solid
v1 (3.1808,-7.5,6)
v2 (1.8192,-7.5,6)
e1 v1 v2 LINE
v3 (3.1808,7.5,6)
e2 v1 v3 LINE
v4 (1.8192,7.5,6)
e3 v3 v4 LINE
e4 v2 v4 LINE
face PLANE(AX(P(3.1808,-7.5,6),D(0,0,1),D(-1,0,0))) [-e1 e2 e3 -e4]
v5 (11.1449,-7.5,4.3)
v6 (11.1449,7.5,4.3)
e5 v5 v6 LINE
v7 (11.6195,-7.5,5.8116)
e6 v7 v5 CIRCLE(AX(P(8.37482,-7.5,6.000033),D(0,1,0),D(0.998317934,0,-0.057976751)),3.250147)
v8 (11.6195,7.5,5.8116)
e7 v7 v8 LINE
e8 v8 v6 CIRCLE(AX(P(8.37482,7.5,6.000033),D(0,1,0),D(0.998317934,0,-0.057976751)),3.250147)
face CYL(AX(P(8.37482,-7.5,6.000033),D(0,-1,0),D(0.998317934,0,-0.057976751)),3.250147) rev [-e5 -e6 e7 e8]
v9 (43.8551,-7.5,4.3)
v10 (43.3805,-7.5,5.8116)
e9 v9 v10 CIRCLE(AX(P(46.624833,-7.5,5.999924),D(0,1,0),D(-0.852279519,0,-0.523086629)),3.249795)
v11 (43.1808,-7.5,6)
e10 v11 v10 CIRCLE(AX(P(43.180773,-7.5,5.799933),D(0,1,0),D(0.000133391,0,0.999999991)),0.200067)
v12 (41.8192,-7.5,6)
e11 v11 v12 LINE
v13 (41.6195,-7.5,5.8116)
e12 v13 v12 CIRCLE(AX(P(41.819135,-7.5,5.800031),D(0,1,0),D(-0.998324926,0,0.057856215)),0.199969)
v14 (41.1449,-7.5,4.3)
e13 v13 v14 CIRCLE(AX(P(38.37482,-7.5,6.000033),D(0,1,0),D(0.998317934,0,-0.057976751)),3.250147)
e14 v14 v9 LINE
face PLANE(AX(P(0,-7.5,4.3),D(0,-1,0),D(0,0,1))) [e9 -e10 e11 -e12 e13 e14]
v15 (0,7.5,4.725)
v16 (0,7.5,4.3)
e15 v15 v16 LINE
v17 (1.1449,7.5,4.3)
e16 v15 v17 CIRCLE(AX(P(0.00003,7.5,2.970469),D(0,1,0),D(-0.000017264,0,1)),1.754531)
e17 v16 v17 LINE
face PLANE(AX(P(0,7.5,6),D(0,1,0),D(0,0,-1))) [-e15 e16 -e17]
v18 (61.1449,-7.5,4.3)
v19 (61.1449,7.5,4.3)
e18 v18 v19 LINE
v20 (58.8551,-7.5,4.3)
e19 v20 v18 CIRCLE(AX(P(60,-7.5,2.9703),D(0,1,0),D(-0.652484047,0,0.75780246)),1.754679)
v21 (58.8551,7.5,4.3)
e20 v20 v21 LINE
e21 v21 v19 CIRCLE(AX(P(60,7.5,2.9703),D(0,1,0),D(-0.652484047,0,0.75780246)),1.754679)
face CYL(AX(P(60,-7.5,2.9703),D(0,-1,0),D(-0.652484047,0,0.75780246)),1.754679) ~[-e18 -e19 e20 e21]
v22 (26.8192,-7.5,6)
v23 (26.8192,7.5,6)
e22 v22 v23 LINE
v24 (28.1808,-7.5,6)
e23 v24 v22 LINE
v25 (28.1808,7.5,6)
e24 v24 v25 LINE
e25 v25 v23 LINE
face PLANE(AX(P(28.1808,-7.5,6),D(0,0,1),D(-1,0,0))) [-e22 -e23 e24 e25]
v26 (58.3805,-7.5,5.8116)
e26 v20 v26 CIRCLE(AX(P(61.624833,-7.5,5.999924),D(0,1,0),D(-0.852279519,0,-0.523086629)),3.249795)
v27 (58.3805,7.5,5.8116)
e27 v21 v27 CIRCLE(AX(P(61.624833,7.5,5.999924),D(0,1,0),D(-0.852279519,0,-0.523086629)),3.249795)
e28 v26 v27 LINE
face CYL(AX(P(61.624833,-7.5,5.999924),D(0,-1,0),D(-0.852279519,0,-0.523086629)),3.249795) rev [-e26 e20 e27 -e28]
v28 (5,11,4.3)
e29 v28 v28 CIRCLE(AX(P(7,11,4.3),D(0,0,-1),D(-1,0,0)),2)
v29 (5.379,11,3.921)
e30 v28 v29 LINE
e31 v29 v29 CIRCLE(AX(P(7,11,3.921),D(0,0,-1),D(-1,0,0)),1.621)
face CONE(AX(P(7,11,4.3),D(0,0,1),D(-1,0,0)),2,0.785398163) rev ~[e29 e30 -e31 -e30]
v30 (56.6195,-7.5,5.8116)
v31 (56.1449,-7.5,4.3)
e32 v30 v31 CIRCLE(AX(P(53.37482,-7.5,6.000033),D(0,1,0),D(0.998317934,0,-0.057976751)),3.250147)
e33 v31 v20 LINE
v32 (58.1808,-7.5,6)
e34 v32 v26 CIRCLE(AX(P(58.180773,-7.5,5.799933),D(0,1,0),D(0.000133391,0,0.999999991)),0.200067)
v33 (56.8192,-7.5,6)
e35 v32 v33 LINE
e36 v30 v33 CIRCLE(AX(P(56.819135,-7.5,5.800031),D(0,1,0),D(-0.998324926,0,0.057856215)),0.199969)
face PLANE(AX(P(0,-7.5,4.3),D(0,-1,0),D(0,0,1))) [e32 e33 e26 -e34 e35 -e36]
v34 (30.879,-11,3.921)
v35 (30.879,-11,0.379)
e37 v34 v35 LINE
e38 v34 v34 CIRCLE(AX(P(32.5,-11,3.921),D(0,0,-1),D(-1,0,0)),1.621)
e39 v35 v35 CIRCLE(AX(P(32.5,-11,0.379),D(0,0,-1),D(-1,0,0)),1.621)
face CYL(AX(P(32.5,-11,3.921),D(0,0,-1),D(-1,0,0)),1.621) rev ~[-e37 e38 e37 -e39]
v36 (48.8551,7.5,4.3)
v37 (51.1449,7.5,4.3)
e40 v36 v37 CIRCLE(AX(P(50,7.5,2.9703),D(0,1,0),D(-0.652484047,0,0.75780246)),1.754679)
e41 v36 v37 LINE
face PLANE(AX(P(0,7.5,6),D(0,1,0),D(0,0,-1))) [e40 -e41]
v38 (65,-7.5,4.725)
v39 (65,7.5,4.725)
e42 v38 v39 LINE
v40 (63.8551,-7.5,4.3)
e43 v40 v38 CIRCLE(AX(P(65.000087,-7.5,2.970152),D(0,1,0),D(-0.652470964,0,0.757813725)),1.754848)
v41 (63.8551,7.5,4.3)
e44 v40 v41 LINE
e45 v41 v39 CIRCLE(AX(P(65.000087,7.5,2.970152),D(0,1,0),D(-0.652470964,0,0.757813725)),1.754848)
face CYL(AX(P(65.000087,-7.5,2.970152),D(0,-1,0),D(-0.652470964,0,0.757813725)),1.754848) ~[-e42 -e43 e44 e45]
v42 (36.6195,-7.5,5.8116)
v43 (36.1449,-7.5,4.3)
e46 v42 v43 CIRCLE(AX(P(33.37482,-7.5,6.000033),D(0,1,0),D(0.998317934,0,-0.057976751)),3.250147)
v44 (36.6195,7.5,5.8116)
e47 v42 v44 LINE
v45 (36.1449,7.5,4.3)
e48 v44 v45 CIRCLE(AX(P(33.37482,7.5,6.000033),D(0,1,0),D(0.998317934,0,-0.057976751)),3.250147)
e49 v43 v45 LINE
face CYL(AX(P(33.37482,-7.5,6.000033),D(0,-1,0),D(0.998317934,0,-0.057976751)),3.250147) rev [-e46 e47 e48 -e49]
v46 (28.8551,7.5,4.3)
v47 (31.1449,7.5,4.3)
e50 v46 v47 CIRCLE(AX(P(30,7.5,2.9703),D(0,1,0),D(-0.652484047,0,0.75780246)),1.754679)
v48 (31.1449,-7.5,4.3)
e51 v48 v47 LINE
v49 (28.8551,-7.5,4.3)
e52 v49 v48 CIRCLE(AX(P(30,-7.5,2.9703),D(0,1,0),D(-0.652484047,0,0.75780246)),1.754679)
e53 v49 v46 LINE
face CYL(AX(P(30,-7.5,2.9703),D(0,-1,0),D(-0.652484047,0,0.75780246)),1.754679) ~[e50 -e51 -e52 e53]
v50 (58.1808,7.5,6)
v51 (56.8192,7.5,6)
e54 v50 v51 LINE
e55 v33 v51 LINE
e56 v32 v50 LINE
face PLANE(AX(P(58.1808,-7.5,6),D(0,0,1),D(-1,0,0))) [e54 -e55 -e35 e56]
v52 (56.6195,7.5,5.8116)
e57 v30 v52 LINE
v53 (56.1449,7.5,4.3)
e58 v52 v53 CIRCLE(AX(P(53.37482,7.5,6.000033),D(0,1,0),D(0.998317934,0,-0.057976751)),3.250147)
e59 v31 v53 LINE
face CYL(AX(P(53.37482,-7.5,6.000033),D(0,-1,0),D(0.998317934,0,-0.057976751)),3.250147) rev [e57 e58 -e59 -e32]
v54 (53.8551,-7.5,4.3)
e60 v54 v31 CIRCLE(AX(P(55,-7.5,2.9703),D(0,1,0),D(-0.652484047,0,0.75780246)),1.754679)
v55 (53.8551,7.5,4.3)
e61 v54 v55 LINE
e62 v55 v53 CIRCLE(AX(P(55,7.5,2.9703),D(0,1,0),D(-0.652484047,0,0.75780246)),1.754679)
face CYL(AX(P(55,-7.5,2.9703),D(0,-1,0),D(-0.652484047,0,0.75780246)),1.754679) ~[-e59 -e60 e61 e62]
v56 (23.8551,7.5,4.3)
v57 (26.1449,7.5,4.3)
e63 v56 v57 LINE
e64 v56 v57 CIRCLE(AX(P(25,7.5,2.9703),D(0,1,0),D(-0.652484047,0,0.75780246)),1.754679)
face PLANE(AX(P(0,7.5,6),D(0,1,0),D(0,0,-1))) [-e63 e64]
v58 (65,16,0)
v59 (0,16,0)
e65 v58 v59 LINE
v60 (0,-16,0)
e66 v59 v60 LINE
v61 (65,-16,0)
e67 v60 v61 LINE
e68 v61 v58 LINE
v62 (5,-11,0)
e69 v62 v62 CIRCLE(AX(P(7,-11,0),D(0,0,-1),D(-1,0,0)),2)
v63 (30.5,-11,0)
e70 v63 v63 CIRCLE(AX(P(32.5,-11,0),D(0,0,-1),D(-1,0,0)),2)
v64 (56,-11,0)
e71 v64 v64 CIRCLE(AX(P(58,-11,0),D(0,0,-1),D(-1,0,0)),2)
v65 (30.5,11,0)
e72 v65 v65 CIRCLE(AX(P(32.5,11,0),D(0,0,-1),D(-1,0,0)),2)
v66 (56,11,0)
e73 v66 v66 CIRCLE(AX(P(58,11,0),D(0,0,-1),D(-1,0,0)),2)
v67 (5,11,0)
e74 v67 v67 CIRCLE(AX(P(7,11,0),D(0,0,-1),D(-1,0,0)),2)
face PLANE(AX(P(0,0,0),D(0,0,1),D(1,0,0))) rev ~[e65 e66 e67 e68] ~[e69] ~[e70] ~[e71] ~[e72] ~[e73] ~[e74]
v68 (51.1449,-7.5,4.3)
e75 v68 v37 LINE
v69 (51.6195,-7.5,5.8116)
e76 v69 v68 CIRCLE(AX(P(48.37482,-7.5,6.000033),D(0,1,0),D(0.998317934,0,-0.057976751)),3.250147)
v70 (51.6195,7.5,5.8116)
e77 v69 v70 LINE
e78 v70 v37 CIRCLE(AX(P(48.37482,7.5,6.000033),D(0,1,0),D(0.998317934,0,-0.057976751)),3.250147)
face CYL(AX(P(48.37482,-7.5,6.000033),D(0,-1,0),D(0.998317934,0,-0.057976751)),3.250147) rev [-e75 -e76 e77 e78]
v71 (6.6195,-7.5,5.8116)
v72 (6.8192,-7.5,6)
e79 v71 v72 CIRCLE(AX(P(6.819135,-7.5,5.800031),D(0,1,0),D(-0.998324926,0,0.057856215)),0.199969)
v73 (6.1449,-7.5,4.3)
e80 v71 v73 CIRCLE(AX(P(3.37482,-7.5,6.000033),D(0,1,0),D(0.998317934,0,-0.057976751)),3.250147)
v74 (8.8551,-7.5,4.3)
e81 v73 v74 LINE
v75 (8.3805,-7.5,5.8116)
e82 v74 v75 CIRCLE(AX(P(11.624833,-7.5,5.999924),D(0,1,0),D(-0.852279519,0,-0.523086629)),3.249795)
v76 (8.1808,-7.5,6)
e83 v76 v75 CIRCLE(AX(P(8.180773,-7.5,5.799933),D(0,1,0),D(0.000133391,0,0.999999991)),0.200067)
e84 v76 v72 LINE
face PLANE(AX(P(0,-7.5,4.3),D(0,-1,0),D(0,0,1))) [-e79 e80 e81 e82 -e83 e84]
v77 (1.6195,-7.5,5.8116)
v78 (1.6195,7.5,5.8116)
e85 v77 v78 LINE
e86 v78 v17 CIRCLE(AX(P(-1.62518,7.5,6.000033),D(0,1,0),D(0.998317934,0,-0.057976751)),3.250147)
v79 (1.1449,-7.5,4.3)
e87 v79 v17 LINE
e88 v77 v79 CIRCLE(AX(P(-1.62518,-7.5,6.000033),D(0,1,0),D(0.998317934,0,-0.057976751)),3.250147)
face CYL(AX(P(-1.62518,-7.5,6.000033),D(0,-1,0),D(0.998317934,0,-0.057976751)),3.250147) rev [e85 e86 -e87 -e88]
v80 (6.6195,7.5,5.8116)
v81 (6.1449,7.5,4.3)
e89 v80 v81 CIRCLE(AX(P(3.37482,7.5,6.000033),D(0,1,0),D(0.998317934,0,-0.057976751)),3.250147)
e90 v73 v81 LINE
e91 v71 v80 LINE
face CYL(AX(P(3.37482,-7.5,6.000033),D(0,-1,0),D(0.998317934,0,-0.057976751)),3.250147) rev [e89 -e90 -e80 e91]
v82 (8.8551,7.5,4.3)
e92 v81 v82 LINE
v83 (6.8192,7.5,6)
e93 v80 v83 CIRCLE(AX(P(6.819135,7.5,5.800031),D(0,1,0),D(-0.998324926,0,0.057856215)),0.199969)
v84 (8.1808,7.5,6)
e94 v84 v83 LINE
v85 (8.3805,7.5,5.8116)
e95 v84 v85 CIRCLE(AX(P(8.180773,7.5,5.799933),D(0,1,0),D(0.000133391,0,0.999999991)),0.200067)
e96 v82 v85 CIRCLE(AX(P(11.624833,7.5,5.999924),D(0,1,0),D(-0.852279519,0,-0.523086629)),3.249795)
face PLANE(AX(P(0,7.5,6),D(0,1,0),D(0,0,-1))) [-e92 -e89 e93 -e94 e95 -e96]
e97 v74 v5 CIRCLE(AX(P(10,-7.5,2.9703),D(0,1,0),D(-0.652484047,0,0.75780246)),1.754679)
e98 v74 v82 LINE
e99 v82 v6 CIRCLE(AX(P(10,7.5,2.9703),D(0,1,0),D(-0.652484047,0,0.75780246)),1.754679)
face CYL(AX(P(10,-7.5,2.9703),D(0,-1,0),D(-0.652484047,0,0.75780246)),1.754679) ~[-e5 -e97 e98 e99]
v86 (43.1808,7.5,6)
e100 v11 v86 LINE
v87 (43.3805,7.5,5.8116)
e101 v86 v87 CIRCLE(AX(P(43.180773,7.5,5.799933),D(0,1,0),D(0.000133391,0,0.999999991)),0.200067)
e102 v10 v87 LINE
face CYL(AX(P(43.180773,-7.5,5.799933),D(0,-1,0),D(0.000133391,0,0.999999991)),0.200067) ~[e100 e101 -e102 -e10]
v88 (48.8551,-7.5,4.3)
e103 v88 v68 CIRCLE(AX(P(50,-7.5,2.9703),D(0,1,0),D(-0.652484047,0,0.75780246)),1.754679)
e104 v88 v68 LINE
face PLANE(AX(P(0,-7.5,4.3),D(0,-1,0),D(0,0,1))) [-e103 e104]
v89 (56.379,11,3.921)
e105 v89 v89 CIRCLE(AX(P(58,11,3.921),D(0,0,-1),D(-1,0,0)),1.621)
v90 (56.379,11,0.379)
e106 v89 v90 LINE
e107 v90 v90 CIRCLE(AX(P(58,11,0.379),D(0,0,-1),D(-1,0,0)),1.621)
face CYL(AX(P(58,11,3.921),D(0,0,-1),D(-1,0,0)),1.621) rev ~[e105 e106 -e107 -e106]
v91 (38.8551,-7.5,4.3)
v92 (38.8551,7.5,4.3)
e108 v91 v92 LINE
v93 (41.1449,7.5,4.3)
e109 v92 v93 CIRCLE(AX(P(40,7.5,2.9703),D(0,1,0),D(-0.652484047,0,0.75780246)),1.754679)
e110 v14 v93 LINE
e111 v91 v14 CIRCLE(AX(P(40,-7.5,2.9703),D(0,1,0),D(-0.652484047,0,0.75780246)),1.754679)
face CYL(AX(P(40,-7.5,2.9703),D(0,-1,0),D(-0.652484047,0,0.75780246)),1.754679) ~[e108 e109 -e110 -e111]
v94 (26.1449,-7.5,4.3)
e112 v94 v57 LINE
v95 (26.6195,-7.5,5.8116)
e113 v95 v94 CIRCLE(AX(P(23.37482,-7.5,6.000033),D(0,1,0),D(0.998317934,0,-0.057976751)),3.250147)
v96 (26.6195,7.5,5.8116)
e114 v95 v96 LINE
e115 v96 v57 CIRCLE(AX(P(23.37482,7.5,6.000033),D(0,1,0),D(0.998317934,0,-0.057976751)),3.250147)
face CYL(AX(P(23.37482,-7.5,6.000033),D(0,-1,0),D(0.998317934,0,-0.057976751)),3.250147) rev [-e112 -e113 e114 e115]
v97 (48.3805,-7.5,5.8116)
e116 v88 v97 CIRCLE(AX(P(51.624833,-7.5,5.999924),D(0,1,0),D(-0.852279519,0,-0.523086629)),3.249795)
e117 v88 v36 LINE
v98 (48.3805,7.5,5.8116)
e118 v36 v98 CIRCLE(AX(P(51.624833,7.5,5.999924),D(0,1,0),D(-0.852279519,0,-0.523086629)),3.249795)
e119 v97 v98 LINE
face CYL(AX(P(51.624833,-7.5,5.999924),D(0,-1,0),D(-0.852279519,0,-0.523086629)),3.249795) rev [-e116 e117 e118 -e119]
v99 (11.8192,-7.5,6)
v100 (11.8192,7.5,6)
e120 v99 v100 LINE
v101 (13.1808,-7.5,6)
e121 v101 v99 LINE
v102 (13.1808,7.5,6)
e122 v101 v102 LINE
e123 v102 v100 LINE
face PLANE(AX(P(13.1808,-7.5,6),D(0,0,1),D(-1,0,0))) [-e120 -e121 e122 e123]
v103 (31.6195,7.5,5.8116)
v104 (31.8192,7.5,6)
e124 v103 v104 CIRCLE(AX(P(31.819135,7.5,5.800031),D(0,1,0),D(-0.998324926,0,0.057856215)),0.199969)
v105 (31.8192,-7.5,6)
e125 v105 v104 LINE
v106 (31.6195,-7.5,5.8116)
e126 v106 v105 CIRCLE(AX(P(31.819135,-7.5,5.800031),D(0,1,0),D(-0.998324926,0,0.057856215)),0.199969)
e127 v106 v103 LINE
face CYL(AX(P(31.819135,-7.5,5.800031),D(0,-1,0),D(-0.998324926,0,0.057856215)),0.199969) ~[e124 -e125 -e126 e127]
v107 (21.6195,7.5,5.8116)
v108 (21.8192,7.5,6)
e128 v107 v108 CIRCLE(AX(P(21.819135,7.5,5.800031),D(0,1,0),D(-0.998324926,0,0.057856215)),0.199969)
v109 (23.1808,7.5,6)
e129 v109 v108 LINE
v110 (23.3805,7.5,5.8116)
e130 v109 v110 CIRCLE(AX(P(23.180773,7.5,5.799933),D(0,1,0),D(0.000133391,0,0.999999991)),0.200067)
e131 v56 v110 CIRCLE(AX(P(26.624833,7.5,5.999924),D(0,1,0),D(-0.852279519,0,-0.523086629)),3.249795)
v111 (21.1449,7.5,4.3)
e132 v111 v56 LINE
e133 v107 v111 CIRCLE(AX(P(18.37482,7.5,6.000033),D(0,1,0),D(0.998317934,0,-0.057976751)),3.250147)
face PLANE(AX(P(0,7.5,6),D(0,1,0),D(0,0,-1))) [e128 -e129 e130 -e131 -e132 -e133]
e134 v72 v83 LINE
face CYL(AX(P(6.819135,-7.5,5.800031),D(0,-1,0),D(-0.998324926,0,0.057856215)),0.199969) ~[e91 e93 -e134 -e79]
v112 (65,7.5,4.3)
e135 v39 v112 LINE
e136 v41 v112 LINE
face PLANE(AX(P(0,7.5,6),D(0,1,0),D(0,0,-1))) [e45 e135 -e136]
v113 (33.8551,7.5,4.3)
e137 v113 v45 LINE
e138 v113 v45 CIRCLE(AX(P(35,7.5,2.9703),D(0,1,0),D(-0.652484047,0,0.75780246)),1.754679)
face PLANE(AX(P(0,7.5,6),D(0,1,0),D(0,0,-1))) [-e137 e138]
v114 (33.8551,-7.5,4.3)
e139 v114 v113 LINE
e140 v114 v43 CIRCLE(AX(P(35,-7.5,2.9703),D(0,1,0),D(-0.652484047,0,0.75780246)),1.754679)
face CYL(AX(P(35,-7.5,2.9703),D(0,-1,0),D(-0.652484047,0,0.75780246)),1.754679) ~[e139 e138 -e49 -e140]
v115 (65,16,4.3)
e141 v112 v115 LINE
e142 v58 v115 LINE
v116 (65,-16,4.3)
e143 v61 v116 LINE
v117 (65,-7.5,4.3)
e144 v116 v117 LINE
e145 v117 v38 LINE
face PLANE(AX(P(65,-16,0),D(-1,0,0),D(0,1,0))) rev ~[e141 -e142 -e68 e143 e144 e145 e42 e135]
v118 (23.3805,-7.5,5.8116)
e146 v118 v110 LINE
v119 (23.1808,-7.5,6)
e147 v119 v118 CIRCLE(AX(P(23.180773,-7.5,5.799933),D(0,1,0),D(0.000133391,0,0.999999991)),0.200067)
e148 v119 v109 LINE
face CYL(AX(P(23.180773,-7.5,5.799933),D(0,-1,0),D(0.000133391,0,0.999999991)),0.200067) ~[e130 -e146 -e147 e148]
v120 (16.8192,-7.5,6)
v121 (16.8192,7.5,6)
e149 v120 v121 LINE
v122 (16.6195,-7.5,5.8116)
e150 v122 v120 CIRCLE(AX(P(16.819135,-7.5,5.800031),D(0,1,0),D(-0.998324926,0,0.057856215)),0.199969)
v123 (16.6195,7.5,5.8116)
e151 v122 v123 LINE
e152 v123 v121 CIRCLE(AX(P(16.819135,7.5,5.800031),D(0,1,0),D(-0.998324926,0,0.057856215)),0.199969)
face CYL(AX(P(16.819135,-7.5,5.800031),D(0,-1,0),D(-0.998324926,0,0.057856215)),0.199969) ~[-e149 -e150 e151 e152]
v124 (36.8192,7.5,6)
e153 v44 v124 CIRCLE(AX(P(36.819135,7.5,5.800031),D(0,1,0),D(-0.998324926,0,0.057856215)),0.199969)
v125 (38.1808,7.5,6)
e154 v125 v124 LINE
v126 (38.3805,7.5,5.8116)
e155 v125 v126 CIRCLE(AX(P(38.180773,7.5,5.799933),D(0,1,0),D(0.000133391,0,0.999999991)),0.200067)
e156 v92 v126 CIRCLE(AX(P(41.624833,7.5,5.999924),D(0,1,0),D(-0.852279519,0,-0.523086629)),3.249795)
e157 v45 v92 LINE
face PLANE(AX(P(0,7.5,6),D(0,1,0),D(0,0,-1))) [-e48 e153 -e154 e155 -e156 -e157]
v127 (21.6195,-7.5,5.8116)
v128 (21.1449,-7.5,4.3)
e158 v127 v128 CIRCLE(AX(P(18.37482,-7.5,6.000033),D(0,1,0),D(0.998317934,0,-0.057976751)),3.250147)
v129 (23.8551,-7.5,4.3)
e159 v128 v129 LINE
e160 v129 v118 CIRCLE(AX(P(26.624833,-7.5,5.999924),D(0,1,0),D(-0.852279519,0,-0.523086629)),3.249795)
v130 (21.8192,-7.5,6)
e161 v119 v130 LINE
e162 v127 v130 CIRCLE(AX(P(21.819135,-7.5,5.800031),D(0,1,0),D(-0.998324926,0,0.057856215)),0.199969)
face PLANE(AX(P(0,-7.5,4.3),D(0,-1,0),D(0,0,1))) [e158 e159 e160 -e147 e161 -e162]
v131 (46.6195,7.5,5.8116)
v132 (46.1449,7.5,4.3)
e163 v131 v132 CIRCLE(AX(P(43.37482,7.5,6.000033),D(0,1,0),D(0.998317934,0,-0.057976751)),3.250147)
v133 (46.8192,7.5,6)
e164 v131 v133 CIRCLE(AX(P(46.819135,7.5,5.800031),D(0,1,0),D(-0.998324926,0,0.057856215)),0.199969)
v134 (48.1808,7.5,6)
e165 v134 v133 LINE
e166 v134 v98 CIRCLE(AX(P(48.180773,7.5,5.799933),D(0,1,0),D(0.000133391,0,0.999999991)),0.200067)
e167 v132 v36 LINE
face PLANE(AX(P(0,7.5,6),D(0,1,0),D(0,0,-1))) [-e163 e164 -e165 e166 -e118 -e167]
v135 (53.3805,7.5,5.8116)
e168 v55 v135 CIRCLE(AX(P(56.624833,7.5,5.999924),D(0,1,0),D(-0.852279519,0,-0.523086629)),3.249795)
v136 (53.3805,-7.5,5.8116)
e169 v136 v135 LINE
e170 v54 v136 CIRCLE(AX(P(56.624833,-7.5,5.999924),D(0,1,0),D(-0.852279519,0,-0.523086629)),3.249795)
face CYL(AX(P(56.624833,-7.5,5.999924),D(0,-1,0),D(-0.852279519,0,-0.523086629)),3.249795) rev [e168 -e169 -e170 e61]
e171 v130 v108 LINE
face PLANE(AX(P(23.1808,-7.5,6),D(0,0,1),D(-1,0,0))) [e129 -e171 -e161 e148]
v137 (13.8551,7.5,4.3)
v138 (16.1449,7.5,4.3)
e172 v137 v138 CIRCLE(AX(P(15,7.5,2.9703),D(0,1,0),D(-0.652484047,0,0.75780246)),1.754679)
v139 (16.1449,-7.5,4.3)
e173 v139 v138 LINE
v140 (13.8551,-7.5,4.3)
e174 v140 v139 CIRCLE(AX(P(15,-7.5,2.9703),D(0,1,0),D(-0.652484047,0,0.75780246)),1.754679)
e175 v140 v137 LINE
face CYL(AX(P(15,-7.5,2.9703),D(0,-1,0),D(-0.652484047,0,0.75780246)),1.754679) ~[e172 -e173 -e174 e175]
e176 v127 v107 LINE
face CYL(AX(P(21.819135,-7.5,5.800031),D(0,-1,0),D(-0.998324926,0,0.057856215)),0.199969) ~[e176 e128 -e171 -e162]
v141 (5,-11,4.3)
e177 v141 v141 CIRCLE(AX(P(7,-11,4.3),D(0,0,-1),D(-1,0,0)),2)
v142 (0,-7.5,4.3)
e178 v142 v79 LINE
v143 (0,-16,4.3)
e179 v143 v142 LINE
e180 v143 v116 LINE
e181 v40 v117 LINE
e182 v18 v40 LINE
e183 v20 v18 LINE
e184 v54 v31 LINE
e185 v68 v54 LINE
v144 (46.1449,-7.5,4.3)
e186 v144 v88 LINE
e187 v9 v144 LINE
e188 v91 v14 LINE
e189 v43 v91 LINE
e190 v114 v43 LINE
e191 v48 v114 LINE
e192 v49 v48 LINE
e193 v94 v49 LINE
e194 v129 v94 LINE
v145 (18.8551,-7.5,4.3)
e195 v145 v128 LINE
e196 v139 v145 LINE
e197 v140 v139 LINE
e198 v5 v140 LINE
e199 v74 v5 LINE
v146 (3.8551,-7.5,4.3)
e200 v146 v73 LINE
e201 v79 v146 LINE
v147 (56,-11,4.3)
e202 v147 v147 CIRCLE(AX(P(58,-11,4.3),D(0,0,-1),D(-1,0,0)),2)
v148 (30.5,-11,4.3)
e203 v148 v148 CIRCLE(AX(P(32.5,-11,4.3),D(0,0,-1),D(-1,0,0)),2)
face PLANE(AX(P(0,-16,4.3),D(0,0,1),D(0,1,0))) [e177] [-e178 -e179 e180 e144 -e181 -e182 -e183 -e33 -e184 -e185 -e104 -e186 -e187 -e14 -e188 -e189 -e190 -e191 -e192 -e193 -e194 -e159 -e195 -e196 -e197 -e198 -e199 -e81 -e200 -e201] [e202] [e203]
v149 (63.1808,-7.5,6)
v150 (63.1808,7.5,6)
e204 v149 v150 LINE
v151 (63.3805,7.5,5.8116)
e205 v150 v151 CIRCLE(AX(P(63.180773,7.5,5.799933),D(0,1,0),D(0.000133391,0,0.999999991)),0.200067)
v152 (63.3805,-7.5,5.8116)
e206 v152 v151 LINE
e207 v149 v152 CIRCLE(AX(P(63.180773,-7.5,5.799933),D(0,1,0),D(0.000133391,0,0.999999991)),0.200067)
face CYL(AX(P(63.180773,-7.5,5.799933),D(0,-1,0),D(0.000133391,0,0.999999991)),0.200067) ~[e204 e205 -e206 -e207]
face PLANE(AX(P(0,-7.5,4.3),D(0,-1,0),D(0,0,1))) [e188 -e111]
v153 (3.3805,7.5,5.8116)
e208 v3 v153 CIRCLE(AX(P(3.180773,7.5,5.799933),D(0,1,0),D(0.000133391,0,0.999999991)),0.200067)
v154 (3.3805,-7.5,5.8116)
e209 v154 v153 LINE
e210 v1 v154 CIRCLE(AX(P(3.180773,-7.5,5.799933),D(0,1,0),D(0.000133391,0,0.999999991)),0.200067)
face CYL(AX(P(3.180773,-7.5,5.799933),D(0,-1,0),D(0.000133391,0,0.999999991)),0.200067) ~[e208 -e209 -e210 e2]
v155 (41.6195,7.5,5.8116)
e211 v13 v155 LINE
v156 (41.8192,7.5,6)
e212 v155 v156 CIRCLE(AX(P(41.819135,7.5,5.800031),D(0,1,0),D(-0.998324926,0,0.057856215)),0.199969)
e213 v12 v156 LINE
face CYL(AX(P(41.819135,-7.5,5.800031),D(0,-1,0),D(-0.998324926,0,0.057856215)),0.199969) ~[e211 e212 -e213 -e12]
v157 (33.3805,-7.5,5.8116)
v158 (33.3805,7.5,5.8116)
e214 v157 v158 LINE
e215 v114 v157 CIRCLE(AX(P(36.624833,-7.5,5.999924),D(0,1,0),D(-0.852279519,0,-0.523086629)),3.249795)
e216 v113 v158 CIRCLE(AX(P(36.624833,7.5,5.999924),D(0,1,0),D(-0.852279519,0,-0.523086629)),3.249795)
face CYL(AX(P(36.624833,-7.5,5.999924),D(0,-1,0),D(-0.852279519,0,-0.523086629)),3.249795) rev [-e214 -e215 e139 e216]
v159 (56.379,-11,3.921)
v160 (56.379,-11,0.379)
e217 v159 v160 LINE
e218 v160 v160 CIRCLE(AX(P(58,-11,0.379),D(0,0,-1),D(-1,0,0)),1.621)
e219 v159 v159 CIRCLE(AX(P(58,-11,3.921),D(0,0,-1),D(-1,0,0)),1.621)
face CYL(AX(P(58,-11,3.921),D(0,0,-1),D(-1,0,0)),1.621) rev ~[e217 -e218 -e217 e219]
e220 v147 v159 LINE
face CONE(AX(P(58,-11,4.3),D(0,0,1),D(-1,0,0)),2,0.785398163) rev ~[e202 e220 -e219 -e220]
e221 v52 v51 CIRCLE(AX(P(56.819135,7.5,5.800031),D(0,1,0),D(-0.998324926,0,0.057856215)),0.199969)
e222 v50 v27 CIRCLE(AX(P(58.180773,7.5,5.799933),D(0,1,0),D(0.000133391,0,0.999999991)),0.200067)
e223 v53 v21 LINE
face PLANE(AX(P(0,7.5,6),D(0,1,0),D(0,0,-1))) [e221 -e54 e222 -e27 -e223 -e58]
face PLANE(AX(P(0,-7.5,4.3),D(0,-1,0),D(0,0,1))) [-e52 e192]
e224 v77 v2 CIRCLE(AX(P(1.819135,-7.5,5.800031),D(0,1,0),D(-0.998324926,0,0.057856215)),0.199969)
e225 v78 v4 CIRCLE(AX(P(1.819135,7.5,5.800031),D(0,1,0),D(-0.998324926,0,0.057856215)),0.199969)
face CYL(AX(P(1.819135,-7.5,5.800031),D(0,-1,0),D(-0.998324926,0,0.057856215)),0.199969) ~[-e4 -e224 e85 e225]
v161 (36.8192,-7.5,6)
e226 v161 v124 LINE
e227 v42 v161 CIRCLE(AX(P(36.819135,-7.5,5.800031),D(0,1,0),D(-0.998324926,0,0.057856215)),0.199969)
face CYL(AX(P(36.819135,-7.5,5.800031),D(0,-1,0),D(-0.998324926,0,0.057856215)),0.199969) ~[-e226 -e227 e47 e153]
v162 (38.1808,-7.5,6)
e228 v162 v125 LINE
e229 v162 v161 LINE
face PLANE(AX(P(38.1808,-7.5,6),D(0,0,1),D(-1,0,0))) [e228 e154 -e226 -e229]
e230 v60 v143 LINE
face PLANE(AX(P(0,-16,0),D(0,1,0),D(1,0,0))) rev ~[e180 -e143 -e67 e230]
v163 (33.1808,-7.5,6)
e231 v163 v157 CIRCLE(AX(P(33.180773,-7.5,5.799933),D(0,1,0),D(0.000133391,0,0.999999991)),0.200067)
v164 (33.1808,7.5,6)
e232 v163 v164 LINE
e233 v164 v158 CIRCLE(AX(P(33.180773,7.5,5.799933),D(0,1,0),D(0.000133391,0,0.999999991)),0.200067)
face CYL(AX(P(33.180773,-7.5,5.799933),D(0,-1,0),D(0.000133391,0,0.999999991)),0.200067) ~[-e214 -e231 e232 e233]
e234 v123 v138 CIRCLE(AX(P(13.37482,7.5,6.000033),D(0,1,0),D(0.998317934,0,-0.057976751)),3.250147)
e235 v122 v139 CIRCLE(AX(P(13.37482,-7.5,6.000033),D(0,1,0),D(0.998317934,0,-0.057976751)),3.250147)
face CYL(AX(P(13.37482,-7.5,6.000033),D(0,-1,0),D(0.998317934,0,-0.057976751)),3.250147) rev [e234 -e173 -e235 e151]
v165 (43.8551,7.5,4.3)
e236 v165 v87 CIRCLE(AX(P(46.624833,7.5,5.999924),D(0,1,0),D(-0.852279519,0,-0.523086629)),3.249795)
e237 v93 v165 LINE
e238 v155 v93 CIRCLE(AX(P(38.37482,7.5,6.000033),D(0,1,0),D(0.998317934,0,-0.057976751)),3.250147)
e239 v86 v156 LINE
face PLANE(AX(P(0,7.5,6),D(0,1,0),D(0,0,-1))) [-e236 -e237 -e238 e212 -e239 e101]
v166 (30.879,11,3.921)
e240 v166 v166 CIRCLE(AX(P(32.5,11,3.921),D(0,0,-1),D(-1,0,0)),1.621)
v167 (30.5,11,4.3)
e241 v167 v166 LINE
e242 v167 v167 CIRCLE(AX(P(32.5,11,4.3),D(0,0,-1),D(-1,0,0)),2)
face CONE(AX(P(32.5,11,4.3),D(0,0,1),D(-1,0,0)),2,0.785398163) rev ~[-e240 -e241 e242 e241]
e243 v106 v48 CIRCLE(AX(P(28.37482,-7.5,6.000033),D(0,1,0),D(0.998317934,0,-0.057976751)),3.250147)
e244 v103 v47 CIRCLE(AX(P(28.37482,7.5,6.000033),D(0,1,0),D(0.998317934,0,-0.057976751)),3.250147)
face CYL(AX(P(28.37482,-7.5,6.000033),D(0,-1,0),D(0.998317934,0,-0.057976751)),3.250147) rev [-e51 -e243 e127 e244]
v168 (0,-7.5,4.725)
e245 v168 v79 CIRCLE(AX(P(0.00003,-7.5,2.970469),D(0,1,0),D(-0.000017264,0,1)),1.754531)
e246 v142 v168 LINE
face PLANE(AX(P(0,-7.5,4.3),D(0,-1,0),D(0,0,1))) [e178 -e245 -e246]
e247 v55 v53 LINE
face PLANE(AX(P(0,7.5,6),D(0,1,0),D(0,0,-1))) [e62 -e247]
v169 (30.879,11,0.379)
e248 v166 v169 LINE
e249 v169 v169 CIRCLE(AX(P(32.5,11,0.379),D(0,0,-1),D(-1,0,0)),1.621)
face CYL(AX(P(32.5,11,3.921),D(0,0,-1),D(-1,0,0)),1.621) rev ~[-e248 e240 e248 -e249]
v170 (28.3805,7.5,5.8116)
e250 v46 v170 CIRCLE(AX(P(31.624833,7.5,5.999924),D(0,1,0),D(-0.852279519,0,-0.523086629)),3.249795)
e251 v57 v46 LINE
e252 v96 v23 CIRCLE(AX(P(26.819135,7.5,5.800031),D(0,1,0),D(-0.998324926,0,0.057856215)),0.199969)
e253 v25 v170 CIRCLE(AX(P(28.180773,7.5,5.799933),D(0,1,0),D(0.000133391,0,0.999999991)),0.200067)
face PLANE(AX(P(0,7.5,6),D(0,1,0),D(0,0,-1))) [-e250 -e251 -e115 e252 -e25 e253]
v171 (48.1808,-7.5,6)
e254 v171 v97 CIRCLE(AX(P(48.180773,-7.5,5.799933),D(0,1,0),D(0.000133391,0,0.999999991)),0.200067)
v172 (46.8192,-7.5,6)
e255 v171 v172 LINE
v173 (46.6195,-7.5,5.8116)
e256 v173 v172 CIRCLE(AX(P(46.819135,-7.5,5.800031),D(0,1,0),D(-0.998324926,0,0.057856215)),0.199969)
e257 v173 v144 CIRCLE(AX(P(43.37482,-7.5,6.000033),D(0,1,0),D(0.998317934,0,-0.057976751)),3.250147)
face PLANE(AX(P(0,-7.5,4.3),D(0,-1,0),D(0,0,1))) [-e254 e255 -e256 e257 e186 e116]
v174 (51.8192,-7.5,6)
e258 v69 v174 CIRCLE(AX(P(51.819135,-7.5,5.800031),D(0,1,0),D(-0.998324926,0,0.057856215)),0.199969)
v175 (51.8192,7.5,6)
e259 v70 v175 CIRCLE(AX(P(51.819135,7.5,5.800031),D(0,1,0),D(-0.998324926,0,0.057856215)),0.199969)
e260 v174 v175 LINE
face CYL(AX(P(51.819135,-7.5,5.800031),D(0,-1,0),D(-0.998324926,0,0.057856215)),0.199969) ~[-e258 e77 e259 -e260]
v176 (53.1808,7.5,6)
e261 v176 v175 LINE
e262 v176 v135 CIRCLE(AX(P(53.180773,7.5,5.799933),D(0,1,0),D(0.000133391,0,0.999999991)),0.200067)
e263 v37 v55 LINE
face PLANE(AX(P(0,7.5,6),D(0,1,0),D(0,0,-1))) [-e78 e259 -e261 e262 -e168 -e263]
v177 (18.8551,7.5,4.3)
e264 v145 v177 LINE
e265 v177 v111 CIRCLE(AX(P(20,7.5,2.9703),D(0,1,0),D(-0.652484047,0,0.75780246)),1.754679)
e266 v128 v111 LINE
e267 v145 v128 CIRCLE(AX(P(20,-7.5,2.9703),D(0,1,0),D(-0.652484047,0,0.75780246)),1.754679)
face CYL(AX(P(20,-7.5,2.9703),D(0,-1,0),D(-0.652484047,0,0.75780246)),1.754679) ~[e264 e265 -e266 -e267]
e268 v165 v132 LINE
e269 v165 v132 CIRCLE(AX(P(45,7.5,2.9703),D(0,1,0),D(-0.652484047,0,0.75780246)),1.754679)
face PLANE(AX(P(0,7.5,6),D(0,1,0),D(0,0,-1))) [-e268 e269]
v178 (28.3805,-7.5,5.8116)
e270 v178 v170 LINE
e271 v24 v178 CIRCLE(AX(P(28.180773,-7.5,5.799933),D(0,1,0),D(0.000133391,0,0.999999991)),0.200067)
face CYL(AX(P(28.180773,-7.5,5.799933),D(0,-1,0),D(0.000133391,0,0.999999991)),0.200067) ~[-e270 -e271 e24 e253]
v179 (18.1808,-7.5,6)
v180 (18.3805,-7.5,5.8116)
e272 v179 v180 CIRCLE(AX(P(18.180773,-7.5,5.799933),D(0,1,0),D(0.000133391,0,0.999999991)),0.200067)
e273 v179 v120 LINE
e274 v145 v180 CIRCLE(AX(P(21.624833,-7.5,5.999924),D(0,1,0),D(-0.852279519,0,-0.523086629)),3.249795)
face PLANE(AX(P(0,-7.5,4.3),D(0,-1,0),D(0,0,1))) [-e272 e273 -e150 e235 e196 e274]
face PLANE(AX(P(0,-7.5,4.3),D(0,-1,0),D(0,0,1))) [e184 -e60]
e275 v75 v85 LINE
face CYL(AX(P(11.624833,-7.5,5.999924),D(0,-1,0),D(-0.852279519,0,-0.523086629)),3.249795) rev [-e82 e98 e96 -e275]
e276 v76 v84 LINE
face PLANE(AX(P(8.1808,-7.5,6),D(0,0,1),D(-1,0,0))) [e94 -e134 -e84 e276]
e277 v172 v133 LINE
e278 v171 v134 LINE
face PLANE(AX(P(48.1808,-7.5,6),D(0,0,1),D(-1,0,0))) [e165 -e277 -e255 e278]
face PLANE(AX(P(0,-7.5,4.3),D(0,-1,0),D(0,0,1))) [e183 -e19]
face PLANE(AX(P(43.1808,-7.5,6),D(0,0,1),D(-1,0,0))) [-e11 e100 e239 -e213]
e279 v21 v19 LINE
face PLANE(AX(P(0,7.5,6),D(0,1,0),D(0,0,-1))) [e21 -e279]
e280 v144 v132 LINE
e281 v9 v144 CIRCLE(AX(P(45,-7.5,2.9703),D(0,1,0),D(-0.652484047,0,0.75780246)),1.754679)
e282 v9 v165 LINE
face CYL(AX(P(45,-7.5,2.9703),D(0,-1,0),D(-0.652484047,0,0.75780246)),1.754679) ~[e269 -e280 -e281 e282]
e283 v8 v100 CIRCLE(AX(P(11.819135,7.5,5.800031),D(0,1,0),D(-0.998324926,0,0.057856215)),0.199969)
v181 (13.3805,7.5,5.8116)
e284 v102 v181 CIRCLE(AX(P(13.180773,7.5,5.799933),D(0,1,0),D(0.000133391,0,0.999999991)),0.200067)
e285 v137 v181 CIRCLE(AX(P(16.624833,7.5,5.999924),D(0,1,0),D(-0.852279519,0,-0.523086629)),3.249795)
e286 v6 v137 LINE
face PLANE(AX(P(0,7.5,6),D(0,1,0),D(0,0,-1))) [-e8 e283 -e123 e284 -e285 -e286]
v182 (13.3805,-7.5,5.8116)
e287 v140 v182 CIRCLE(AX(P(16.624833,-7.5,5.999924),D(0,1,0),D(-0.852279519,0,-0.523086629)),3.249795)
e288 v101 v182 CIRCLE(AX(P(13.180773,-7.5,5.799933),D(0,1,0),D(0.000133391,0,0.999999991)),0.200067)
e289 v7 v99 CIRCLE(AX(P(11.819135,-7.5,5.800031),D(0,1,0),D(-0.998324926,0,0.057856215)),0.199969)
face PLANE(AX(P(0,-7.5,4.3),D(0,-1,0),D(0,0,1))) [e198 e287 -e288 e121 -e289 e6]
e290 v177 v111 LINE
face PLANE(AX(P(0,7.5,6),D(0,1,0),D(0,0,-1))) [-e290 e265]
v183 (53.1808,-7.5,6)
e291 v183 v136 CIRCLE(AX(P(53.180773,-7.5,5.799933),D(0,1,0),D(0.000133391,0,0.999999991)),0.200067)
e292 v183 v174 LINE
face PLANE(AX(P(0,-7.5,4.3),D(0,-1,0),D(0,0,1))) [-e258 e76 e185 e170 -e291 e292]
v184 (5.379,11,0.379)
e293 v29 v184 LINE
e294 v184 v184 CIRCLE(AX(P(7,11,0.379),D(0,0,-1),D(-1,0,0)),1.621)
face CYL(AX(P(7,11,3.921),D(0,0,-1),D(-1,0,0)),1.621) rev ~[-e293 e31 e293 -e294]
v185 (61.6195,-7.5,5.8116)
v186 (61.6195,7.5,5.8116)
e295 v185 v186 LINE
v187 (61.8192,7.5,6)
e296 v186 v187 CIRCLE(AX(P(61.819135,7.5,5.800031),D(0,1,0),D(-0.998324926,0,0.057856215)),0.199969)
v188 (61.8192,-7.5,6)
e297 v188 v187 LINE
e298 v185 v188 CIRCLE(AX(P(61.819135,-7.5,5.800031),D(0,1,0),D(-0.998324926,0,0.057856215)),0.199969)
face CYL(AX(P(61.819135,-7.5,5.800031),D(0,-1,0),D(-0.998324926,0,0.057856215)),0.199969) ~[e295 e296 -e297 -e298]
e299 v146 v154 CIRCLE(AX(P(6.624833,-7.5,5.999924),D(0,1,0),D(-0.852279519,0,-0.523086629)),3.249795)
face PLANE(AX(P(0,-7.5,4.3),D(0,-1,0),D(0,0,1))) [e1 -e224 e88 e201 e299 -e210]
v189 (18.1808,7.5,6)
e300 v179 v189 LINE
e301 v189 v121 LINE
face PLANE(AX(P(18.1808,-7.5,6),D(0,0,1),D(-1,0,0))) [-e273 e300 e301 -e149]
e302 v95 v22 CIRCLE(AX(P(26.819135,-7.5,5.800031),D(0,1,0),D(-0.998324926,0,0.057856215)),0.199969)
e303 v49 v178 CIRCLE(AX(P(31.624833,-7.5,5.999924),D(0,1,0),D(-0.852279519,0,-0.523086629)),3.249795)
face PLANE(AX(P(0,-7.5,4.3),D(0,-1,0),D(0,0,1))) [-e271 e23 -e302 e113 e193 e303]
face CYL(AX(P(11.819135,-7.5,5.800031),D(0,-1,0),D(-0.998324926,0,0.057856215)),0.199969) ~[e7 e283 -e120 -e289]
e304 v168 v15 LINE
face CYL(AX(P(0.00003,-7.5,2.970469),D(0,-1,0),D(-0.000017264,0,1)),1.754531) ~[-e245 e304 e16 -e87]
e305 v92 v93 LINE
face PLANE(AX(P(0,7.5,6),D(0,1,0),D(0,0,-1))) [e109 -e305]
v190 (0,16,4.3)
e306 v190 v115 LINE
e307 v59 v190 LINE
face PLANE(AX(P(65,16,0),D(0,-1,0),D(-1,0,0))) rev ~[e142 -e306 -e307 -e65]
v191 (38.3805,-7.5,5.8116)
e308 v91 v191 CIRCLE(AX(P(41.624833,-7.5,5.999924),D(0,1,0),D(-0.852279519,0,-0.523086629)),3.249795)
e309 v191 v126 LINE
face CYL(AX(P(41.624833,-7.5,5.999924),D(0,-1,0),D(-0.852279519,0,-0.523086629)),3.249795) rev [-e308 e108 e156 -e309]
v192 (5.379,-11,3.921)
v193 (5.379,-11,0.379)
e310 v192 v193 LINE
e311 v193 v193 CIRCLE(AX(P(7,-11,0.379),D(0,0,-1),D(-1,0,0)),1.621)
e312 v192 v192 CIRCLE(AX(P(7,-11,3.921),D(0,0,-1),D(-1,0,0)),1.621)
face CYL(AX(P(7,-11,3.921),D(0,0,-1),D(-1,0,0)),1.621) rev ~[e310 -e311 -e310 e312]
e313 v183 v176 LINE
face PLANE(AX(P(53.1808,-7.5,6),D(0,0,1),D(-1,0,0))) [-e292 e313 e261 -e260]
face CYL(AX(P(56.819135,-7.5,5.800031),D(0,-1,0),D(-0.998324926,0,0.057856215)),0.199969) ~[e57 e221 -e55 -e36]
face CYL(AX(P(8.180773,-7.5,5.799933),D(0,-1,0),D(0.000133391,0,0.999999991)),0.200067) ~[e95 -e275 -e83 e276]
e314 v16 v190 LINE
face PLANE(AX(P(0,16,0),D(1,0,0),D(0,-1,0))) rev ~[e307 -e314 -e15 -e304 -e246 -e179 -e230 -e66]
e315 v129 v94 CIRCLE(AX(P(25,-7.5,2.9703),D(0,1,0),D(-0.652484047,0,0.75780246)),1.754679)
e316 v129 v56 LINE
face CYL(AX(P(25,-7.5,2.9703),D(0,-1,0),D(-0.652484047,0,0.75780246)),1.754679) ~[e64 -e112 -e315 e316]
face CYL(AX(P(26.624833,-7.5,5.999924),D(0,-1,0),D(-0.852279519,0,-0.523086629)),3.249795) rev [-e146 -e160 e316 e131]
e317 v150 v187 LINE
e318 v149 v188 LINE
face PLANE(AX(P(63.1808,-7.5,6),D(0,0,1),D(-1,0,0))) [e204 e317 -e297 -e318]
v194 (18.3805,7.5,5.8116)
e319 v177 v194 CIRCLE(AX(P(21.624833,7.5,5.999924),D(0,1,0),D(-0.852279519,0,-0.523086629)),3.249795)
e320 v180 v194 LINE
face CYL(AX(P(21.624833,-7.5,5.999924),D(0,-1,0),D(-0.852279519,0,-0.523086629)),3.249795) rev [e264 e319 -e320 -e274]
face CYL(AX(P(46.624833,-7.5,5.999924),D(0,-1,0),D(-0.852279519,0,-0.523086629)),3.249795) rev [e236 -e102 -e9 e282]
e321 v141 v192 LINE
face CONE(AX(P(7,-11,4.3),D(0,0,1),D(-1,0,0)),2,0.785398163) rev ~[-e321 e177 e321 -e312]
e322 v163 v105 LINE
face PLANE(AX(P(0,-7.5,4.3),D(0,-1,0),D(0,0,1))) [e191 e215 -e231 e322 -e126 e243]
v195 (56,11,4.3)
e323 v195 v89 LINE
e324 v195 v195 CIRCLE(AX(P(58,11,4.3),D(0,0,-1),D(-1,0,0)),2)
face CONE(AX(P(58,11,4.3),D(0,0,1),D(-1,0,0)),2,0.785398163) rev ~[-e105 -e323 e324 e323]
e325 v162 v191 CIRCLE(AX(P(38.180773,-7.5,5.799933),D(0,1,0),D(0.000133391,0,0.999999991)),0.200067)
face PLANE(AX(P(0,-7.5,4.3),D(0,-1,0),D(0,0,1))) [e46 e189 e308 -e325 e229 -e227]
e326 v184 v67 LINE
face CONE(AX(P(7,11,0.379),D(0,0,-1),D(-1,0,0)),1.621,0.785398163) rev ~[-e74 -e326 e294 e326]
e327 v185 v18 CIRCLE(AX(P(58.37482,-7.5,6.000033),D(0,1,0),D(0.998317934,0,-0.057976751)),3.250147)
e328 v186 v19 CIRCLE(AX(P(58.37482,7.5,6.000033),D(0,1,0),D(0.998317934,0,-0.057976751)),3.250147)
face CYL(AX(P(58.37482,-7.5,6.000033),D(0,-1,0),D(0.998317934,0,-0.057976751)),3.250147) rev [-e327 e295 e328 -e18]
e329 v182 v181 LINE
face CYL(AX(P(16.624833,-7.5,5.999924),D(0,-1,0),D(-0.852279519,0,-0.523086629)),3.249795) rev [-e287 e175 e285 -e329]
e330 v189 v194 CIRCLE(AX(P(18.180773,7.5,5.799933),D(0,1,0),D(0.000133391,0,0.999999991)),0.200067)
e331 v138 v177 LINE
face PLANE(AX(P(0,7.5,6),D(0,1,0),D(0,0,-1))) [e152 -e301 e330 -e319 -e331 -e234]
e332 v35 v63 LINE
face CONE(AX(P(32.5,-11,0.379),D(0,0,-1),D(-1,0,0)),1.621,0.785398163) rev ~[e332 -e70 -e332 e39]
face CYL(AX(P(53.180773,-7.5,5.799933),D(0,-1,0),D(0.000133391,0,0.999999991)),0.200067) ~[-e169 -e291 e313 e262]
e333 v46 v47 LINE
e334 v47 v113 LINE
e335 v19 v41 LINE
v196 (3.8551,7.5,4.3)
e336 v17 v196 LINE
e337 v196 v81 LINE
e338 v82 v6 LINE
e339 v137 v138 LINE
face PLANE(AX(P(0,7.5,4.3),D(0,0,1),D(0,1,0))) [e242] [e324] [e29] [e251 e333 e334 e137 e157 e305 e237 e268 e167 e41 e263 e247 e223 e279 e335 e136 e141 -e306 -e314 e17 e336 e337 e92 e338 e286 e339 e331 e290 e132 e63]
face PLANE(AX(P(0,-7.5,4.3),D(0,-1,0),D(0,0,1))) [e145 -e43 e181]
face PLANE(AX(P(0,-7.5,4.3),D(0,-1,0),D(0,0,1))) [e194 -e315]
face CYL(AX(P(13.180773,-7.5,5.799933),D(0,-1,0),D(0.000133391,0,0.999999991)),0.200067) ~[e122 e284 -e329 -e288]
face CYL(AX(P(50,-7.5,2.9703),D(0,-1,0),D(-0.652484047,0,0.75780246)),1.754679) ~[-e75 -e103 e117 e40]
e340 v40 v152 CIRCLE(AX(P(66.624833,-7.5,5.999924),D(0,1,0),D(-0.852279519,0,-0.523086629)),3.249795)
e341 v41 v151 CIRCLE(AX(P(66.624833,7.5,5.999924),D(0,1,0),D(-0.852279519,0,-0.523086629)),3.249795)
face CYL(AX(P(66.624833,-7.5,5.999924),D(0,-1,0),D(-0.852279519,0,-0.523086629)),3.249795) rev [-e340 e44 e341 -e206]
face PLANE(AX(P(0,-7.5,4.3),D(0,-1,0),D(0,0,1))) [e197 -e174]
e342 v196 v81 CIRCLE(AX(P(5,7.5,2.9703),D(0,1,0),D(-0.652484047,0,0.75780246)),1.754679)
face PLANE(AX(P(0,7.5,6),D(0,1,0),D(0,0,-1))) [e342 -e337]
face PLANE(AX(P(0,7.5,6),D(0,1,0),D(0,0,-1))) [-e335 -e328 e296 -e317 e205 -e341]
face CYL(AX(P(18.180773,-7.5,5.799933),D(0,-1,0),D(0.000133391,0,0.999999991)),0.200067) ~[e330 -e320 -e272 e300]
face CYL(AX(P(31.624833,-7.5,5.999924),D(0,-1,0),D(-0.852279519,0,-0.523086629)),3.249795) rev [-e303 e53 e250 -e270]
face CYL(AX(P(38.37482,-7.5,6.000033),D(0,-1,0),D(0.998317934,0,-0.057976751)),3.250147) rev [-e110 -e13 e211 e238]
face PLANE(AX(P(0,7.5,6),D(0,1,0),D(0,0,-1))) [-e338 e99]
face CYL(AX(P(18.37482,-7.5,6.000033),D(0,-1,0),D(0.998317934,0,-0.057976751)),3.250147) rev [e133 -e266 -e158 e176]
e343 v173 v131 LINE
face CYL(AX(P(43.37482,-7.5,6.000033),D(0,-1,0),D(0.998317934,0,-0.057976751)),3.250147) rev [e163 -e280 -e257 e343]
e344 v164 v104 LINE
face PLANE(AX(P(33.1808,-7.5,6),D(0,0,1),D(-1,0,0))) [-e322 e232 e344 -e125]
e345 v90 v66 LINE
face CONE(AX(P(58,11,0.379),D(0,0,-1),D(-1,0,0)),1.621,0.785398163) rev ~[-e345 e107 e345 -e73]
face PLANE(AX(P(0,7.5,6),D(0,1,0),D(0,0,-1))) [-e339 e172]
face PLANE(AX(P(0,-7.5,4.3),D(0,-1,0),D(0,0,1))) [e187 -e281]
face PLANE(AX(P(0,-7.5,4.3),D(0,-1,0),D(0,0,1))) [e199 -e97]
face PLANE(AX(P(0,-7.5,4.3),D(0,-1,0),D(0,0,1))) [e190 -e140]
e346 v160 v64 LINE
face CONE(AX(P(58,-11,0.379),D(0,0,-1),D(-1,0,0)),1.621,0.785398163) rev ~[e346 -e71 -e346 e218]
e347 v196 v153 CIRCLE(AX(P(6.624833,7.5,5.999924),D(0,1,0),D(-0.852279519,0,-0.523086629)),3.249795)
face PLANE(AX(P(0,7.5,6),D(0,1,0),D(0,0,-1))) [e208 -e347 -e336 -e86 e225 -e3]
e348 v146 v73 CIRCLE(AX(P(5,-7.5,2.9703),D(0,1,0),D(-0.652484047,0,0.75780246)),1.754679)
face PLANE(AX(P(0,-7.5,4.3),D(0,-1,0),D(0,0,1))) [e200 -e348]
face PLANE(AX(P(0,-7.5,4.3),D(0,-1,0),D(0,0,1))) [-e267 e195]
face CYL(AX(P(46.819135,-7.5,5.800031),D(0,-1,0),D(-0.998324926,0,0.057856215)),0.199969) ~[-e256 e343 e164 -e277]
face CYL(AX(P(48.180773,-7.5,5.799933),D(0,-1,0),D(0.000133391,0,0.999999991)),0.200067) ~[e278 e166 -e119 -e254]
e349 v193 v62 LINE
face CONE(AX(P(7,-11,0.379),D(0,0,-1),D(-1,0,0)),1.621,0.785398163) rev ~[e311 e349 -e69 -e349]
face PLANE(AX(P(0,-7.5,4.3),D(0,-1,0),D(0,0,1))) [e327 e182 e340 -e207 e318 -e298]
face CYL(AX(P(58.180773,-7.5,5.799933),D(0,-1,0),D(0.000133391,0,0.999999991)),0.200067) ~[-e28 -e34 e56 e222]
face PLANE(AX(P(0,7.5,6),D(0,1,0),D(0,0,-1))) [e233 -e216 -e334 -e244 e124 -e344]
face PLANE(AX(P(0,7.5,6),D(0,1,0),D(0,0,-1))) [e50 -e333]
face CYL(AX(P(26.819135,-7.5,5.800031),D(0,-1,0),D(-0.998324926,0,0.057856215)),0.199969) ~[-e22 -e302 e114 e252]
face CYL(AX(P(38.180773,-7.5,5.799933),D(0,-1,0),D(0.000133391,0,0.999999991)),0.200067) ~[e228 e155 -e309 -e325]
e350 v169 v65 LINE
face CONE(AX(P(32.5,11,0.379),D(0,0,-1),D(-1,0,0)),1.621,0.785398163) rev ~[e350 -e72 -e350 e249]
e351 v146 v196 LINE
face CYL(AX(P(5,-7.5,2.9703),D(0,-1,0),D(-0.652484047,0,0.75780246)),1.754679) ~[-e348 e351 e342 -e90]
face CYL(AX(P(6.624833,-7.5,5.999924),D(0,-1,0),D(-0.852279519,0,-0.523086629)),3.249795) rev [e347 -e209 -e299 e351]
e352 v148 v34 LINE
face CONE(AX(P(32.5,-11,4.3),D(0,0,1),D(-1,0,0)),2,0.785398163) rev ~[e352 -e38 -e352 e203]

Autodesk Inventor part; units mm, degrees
sketch "Sketch_1" plane through (0, 0, 0) normal (0, 0, 1) x (1, 0, 0)
  line L0 (0, 16) -> (0, -16)
  line L1 (0, -16) -> (65, -16)
  line L2 (65, -16) -> (65, 16)
  line L3 (65, 16) -> (0, 16)
extrude "Extrusion1" add sketch "Sketch_1" along normal blind 6
sketch "Sketch_2" plane through (0, 0, 0) normal (1, 0, 0) x (0, 1, 0)
  line L0 (16, 6) -> (7.5, 6)
  line L1 (7.5, 6) -> (7.5, 4.3)
  line L2 (7.5, 4.3) -> (16, 4.3)
  line L3 (16, 4.3) -> (16, 6)
extrude "Extrusion2" cut sketch "Sketch_2" along normal blind 65
sketch "Sketch_3" plane through (0, 0, 0) normal (1, 0, 0) x (0, 1, 0)
  line L0 (-7.5, 6) -> (-16, 6)
  line L1 (-16, 6) -> (-16, 4.3)
  line L2 (-16, 4.3) -> (-7.5, 4.3)
  line L3 (-7.5, 4.3) -> (-7.5, 6)
extrude "Extrusion3" cut sketch "Sketch_3" along normal blind 65
sketch "Sketch_4" plane through (0, 11, 0) normal (0, 1, 0) x (1, 0, 0)
  line L0 (7, 0) -> (7, -4.3)
  line L1 (7, -4.3) -> (5, -4.3)
  line L2 (5, -4.3) -> (5.379, -3.921)
  line L3 (5.379, -3.921) -> (5.379, -0.379)
  line L4 (5.379, -0.379) -> (5, 0)
  line L5 (5, 0) -> (7, 0)
  line L6 (7, 0) -> (7, -4.3)
revolve "Revolution1" cut sketch "Sketch_4" angle 360 about axis through (7, 11, 0) along (0, 0, -1)
thread "Thread1" size "M4x0.7" class "6H" standard "ISO Metric profile" full length
pattern_linear "Rectangular Pattern1" count 3 spacing 25.5 along (1, 0, 0) count 2 spacing 22 along (0, -1, 0) of "Revolution1"
sketch "Sketch_8" plane through (0, -7.5, 0) normal (0, 1, 0) x (1, 0, 0)
  line L0 (0, -4.725) -> (0, -10.3)
  line L1 (0, -10.3) -> (65, -10.3)
  line L2 (65, -10.3) -> (65, -4.725)
  arc A0 (63.8551, -4.3) -> (65, -4.725) centre (65, -2.9703) ccw
  arc A1 (63.8551, -4.3) -> (63.3805, -5.8116) centre (66.625, -6) ccw
  arc A2 (63.1808, -6) -> (63.3805, -5.8116) centre (63.1808, -5.8) ccw
  line L3 (63.1808, -6) -> (61.8192, -6)
  arc A3 (61.6195, -5.8116) -> (61.8192, -6) centre (61.8192, -5.8) ccw
  arc A4 (61.6195, -5.8116) -> (61.1449, -4.3) centre (58.375, -6) ccw
  arc A5 (58.8551, -4.3) -> (61.1449, -4.3) centre (60, -2.9703) ccw
  arc A6 (58.8551, -4.3) -> (58.3805, -5.8116) centre (61.625, -6) ccw
  arc A7 (58.1808, -6) -> (58.3805, -5.8116) centre (58.1808, -5.8) ccw
  line L4 (58.1808, -6) -> (56.8192, -6)
  arc A8 (56.6195, -5.8116) -> (56.8192, -6) centre (56.8192, -5.8) ccw
  arc A9 (56.6195, -5.8116) -> (56.1449, -4.3) centre (53.375, -6) ccw
  arc A10 (53.8551, -4.3) -> (56.1449, -4.3) centre (55, -2.9703) ccw
  arc A11 (53.8551, -4.3) -> (53.3805, -5.8116) centre (56.625, -6) ccw
  arc A12 (53.1808, -6) -> (53.3805, -5.8116) centre (53.1808, -5.8) ccw
  line L5 (53.1808, -6) -> (51.8192, -6)
  arc A13 (51.6195, -5.8116) -> (51.8192, -6) centre (51.8192, -5.8) ccw
  arc A14 (51.6195, -5.8116) -> (51.1449, -4.3) centre (48.375, -6) ccw
  arc A15 (48.8551, -4.3) -> (51.1449, -4.3) centre (50, -2.9703) ccw
  arc A16 (48.8551, -4.3) -> (48.3805, -5.8116) centre (51.625, -6) ccw
  arc A17 (48.1808, -6) -> (48.3805, -5.8116) centre (48.1808, -5.8) ccw
  line L6 (48.1808, -6) -> (46.8192, -6)
  arc A18 (46.6195, -5.8116) -> (46.8192, -6) centre (46.8192, -5.8) ccw
  arc A19 (46.6195, -5.8116) -> (46.1449, -4.3) centre (43.375, -6) ccw
  arc A20 (43.8551, -4.3) -> (46.1449, -4.3) centre (45, -2.9703) ccw
  arc A21 (43.8551, -4.3) -> (43.3805, -5.8116) centre (46.625, -6) ccw
  arc A22 (43.1808, -6) -> (43.3805, -5.8116) centre (43.1808, -5.8) ccw
  line L7 (43.1808, -6) -> (41.8192, -6)
  arc A23 (41.6195, -5.8116) -> (41.8192, -6) centre (41.8192, -5.8) ccw
  arc A24 (41.6195, -5.8116) -> (41.1449, -4.3) centre (38.375, -6) ccw
  arc A25 (38.8551, -4.3) -> (41.1449, -4.3) centre (40, -2.9703) ccw
  arc A26 (38.8551, -4.3) -> (38.3805, -5.8116) centre (41.625, -6) ccw
  arc A27 (38.1808, -6) -> (38.3805, -5.8116) centre (38.1808, -5.8) ccw
  line L8 (38.1808, -6) -> (36.8192, -6)
  arc A28 (36.6195, -5.8116) -> (36.8192, -6) centre (36.8192, -5.8) ccw
  arc A29 (36.6195, -5.8116) -> (36.1449, -4.3) centre (33.375, -6) ccw
  arc A30 (33.8551, -4.3) -> (36.1449, -4.3) centre (35, -2.9703) ccw
  arc A31 (33.8551, -4.3) -> (33.3805, -5.8116) centre (36.625, -6) ccw
  arc A32 (33.1808, -6) -> (33.3805, -5.8116) centre (33.1808, -5.8) ccw
  line L9 (33.1808, -6) -> (31.8192, -6)
  arc A33 (31.6195, -5.8116) -> (31.8192, -6) centre (31.8192, -5.8) ccw
  arc A34 (31.6195, -5.8116) -> (31.1449, -4.3) centre (28.375, -6) ccw
  arc A35 (28.8551, -4.3) -> (31.1449, -4.3) centre (30, -2.9703) ccw
  arc A36 (28.8551, -4.3) -> (28.3805, -5.8116) centre (31.625, -6) ccw
  arc A37 (28.1808, -6) -> (28.3805, -5.8116) centre (28.1808, -5.8) ccw
  line L10 (28.1808, -6) -> (26.8192, -6)
  arc A38 (26.6195, -5.8116) -> (26.8192, -6) centre (26.8192, -5.8) ccw
  arc A39 (26.6195, -5.8116) -> (26.1449, -4.3) centre (23.375, -6) ccw
  arc A40 (23.8551, -4.3) -> (26.1449, -4.3) centre (25, -2.9703) ccw
  arc A41 (23.8551, -4.3) -> (23.3805, -5.8116) centre (26.625, -6) ccw
  arc A42 (23.1808, -6) -> (23.3805, -5.8116) centre (23.1808, -5.8) ccw
  line L11 (23.1808, -6) -> (21.8192, -6)
  arc A43 (21.6195, -5.8116) -> (21.8192, -6) centre (21.8192, -5.8) ccw
  arc A44 (21.6195, -5.8116) -> (21.1449, -4.3) centre (18.375, -6) ccw
  arc A45 (18.8551, -4.3) -> (21.1449, -4.3) centre (20, -2.9703) ccw
  arc A46 (18.8551, -4.3) -> (18.3805, -5.8116) centre (21.625, -6) ccw
  arc A47 (18.1808, -6) -> (18.3805, -5.8116) centre (18.1808, -5.8) ccw
  line L12 (18.1808, -6) -> (16.8192, -6)
  arc A48 (16.6195, -5.8116) -> (16.8192, -6) centre (16.8192, -5.8) ccw
  arc A49 (16.6195, -5.8116) -> (16.1449, -4.3) centre (13.375, -6) ccw
  arc A50 (13.8551, -4.3) -> (16.1449, -4.3) centre (15, -2.9703) ccw
  arc A51 (13.8551, -4.3) -> (13.3805, -5.8116) centre (16.625, -6) ccw
  arc A52 (13.1808, -6) -> (13.3805, -5.8116) centre (13.1808, -5.8) ccw
  line L13 (13.1808, -6) -> (11.8192, -6)
  arc A53 (11.6195, -5.8116) -> (11.8192, -6) centre (11.8192, -5.8) ccw
  arc A54 (11.6195, -5.8116) -> (11.1449, -4.3) centre (8.375, -6) ccw
  arc A55 (8.8551, -4.3) -> (11.1449, -4.3) centre (10, -2.9703) ccw
  arc A56 (8.8551, -4.3) -> (8.3805, -5.8116) centre (11.625, -6) ccw
  arc A57 (8.1808, -6) -> (8.3805, -5.8116) centre (8.1808, -5.8) ccw
  line L14 (8.1808, -6) -> (6.8192, -6)
  arc A58 (6.6195, -5.8116) -> (6.8192, -6) centre (6.8192, -5.8) ccw
  arc A59 (6.6195, -5.8116) -> (6.1449, -4.3) centre (3.375, -6) ccw
  arc A60 (3.8551, -4.3) -> (6.1449, -4.3) centre (5, -2.9703) ccw
  arc A61 (3.8551, -4.3) -> (3.3805, -5.8116) centre (6.625, -6) ccw
  arc A62 (3.1808, -6) -> (3.3805, -5.8116) centre (3.1808, -5.8) ccw
  line L15 (3.1808, -6) -> (1.8192, -6)
  arc A63 (1.6195, -5.8116) -> (1.8192, -6) centre (1.8192, -5.8) ccw
  arc A64 (1.6195, -5.8116) -> (1.1449, -4.3) centre (-1.625, -6) ccw
  arc A65 (0, -4.725) -> (1.1449, -4.3) centre (0, -2.9703) ccw
extrude "Extrusion4" cut sketch "Sketch_8" along normal blind 15
ref_plane "tbck_XY" through (0, 0, 4.3) normal (0, 0, -1) x (1, 0, 0)
ref_plane "tbck_YZ" through (0, 0, 4.3) normal (1, 0, 0) x (0, -1, 0)
ref_plane "tbck_ZX" through (0, 0, 4.3) normal (0, -1, 0) x (0, 0, -1)
properties part number "TBCKsupport_plate-MA5150_r"
